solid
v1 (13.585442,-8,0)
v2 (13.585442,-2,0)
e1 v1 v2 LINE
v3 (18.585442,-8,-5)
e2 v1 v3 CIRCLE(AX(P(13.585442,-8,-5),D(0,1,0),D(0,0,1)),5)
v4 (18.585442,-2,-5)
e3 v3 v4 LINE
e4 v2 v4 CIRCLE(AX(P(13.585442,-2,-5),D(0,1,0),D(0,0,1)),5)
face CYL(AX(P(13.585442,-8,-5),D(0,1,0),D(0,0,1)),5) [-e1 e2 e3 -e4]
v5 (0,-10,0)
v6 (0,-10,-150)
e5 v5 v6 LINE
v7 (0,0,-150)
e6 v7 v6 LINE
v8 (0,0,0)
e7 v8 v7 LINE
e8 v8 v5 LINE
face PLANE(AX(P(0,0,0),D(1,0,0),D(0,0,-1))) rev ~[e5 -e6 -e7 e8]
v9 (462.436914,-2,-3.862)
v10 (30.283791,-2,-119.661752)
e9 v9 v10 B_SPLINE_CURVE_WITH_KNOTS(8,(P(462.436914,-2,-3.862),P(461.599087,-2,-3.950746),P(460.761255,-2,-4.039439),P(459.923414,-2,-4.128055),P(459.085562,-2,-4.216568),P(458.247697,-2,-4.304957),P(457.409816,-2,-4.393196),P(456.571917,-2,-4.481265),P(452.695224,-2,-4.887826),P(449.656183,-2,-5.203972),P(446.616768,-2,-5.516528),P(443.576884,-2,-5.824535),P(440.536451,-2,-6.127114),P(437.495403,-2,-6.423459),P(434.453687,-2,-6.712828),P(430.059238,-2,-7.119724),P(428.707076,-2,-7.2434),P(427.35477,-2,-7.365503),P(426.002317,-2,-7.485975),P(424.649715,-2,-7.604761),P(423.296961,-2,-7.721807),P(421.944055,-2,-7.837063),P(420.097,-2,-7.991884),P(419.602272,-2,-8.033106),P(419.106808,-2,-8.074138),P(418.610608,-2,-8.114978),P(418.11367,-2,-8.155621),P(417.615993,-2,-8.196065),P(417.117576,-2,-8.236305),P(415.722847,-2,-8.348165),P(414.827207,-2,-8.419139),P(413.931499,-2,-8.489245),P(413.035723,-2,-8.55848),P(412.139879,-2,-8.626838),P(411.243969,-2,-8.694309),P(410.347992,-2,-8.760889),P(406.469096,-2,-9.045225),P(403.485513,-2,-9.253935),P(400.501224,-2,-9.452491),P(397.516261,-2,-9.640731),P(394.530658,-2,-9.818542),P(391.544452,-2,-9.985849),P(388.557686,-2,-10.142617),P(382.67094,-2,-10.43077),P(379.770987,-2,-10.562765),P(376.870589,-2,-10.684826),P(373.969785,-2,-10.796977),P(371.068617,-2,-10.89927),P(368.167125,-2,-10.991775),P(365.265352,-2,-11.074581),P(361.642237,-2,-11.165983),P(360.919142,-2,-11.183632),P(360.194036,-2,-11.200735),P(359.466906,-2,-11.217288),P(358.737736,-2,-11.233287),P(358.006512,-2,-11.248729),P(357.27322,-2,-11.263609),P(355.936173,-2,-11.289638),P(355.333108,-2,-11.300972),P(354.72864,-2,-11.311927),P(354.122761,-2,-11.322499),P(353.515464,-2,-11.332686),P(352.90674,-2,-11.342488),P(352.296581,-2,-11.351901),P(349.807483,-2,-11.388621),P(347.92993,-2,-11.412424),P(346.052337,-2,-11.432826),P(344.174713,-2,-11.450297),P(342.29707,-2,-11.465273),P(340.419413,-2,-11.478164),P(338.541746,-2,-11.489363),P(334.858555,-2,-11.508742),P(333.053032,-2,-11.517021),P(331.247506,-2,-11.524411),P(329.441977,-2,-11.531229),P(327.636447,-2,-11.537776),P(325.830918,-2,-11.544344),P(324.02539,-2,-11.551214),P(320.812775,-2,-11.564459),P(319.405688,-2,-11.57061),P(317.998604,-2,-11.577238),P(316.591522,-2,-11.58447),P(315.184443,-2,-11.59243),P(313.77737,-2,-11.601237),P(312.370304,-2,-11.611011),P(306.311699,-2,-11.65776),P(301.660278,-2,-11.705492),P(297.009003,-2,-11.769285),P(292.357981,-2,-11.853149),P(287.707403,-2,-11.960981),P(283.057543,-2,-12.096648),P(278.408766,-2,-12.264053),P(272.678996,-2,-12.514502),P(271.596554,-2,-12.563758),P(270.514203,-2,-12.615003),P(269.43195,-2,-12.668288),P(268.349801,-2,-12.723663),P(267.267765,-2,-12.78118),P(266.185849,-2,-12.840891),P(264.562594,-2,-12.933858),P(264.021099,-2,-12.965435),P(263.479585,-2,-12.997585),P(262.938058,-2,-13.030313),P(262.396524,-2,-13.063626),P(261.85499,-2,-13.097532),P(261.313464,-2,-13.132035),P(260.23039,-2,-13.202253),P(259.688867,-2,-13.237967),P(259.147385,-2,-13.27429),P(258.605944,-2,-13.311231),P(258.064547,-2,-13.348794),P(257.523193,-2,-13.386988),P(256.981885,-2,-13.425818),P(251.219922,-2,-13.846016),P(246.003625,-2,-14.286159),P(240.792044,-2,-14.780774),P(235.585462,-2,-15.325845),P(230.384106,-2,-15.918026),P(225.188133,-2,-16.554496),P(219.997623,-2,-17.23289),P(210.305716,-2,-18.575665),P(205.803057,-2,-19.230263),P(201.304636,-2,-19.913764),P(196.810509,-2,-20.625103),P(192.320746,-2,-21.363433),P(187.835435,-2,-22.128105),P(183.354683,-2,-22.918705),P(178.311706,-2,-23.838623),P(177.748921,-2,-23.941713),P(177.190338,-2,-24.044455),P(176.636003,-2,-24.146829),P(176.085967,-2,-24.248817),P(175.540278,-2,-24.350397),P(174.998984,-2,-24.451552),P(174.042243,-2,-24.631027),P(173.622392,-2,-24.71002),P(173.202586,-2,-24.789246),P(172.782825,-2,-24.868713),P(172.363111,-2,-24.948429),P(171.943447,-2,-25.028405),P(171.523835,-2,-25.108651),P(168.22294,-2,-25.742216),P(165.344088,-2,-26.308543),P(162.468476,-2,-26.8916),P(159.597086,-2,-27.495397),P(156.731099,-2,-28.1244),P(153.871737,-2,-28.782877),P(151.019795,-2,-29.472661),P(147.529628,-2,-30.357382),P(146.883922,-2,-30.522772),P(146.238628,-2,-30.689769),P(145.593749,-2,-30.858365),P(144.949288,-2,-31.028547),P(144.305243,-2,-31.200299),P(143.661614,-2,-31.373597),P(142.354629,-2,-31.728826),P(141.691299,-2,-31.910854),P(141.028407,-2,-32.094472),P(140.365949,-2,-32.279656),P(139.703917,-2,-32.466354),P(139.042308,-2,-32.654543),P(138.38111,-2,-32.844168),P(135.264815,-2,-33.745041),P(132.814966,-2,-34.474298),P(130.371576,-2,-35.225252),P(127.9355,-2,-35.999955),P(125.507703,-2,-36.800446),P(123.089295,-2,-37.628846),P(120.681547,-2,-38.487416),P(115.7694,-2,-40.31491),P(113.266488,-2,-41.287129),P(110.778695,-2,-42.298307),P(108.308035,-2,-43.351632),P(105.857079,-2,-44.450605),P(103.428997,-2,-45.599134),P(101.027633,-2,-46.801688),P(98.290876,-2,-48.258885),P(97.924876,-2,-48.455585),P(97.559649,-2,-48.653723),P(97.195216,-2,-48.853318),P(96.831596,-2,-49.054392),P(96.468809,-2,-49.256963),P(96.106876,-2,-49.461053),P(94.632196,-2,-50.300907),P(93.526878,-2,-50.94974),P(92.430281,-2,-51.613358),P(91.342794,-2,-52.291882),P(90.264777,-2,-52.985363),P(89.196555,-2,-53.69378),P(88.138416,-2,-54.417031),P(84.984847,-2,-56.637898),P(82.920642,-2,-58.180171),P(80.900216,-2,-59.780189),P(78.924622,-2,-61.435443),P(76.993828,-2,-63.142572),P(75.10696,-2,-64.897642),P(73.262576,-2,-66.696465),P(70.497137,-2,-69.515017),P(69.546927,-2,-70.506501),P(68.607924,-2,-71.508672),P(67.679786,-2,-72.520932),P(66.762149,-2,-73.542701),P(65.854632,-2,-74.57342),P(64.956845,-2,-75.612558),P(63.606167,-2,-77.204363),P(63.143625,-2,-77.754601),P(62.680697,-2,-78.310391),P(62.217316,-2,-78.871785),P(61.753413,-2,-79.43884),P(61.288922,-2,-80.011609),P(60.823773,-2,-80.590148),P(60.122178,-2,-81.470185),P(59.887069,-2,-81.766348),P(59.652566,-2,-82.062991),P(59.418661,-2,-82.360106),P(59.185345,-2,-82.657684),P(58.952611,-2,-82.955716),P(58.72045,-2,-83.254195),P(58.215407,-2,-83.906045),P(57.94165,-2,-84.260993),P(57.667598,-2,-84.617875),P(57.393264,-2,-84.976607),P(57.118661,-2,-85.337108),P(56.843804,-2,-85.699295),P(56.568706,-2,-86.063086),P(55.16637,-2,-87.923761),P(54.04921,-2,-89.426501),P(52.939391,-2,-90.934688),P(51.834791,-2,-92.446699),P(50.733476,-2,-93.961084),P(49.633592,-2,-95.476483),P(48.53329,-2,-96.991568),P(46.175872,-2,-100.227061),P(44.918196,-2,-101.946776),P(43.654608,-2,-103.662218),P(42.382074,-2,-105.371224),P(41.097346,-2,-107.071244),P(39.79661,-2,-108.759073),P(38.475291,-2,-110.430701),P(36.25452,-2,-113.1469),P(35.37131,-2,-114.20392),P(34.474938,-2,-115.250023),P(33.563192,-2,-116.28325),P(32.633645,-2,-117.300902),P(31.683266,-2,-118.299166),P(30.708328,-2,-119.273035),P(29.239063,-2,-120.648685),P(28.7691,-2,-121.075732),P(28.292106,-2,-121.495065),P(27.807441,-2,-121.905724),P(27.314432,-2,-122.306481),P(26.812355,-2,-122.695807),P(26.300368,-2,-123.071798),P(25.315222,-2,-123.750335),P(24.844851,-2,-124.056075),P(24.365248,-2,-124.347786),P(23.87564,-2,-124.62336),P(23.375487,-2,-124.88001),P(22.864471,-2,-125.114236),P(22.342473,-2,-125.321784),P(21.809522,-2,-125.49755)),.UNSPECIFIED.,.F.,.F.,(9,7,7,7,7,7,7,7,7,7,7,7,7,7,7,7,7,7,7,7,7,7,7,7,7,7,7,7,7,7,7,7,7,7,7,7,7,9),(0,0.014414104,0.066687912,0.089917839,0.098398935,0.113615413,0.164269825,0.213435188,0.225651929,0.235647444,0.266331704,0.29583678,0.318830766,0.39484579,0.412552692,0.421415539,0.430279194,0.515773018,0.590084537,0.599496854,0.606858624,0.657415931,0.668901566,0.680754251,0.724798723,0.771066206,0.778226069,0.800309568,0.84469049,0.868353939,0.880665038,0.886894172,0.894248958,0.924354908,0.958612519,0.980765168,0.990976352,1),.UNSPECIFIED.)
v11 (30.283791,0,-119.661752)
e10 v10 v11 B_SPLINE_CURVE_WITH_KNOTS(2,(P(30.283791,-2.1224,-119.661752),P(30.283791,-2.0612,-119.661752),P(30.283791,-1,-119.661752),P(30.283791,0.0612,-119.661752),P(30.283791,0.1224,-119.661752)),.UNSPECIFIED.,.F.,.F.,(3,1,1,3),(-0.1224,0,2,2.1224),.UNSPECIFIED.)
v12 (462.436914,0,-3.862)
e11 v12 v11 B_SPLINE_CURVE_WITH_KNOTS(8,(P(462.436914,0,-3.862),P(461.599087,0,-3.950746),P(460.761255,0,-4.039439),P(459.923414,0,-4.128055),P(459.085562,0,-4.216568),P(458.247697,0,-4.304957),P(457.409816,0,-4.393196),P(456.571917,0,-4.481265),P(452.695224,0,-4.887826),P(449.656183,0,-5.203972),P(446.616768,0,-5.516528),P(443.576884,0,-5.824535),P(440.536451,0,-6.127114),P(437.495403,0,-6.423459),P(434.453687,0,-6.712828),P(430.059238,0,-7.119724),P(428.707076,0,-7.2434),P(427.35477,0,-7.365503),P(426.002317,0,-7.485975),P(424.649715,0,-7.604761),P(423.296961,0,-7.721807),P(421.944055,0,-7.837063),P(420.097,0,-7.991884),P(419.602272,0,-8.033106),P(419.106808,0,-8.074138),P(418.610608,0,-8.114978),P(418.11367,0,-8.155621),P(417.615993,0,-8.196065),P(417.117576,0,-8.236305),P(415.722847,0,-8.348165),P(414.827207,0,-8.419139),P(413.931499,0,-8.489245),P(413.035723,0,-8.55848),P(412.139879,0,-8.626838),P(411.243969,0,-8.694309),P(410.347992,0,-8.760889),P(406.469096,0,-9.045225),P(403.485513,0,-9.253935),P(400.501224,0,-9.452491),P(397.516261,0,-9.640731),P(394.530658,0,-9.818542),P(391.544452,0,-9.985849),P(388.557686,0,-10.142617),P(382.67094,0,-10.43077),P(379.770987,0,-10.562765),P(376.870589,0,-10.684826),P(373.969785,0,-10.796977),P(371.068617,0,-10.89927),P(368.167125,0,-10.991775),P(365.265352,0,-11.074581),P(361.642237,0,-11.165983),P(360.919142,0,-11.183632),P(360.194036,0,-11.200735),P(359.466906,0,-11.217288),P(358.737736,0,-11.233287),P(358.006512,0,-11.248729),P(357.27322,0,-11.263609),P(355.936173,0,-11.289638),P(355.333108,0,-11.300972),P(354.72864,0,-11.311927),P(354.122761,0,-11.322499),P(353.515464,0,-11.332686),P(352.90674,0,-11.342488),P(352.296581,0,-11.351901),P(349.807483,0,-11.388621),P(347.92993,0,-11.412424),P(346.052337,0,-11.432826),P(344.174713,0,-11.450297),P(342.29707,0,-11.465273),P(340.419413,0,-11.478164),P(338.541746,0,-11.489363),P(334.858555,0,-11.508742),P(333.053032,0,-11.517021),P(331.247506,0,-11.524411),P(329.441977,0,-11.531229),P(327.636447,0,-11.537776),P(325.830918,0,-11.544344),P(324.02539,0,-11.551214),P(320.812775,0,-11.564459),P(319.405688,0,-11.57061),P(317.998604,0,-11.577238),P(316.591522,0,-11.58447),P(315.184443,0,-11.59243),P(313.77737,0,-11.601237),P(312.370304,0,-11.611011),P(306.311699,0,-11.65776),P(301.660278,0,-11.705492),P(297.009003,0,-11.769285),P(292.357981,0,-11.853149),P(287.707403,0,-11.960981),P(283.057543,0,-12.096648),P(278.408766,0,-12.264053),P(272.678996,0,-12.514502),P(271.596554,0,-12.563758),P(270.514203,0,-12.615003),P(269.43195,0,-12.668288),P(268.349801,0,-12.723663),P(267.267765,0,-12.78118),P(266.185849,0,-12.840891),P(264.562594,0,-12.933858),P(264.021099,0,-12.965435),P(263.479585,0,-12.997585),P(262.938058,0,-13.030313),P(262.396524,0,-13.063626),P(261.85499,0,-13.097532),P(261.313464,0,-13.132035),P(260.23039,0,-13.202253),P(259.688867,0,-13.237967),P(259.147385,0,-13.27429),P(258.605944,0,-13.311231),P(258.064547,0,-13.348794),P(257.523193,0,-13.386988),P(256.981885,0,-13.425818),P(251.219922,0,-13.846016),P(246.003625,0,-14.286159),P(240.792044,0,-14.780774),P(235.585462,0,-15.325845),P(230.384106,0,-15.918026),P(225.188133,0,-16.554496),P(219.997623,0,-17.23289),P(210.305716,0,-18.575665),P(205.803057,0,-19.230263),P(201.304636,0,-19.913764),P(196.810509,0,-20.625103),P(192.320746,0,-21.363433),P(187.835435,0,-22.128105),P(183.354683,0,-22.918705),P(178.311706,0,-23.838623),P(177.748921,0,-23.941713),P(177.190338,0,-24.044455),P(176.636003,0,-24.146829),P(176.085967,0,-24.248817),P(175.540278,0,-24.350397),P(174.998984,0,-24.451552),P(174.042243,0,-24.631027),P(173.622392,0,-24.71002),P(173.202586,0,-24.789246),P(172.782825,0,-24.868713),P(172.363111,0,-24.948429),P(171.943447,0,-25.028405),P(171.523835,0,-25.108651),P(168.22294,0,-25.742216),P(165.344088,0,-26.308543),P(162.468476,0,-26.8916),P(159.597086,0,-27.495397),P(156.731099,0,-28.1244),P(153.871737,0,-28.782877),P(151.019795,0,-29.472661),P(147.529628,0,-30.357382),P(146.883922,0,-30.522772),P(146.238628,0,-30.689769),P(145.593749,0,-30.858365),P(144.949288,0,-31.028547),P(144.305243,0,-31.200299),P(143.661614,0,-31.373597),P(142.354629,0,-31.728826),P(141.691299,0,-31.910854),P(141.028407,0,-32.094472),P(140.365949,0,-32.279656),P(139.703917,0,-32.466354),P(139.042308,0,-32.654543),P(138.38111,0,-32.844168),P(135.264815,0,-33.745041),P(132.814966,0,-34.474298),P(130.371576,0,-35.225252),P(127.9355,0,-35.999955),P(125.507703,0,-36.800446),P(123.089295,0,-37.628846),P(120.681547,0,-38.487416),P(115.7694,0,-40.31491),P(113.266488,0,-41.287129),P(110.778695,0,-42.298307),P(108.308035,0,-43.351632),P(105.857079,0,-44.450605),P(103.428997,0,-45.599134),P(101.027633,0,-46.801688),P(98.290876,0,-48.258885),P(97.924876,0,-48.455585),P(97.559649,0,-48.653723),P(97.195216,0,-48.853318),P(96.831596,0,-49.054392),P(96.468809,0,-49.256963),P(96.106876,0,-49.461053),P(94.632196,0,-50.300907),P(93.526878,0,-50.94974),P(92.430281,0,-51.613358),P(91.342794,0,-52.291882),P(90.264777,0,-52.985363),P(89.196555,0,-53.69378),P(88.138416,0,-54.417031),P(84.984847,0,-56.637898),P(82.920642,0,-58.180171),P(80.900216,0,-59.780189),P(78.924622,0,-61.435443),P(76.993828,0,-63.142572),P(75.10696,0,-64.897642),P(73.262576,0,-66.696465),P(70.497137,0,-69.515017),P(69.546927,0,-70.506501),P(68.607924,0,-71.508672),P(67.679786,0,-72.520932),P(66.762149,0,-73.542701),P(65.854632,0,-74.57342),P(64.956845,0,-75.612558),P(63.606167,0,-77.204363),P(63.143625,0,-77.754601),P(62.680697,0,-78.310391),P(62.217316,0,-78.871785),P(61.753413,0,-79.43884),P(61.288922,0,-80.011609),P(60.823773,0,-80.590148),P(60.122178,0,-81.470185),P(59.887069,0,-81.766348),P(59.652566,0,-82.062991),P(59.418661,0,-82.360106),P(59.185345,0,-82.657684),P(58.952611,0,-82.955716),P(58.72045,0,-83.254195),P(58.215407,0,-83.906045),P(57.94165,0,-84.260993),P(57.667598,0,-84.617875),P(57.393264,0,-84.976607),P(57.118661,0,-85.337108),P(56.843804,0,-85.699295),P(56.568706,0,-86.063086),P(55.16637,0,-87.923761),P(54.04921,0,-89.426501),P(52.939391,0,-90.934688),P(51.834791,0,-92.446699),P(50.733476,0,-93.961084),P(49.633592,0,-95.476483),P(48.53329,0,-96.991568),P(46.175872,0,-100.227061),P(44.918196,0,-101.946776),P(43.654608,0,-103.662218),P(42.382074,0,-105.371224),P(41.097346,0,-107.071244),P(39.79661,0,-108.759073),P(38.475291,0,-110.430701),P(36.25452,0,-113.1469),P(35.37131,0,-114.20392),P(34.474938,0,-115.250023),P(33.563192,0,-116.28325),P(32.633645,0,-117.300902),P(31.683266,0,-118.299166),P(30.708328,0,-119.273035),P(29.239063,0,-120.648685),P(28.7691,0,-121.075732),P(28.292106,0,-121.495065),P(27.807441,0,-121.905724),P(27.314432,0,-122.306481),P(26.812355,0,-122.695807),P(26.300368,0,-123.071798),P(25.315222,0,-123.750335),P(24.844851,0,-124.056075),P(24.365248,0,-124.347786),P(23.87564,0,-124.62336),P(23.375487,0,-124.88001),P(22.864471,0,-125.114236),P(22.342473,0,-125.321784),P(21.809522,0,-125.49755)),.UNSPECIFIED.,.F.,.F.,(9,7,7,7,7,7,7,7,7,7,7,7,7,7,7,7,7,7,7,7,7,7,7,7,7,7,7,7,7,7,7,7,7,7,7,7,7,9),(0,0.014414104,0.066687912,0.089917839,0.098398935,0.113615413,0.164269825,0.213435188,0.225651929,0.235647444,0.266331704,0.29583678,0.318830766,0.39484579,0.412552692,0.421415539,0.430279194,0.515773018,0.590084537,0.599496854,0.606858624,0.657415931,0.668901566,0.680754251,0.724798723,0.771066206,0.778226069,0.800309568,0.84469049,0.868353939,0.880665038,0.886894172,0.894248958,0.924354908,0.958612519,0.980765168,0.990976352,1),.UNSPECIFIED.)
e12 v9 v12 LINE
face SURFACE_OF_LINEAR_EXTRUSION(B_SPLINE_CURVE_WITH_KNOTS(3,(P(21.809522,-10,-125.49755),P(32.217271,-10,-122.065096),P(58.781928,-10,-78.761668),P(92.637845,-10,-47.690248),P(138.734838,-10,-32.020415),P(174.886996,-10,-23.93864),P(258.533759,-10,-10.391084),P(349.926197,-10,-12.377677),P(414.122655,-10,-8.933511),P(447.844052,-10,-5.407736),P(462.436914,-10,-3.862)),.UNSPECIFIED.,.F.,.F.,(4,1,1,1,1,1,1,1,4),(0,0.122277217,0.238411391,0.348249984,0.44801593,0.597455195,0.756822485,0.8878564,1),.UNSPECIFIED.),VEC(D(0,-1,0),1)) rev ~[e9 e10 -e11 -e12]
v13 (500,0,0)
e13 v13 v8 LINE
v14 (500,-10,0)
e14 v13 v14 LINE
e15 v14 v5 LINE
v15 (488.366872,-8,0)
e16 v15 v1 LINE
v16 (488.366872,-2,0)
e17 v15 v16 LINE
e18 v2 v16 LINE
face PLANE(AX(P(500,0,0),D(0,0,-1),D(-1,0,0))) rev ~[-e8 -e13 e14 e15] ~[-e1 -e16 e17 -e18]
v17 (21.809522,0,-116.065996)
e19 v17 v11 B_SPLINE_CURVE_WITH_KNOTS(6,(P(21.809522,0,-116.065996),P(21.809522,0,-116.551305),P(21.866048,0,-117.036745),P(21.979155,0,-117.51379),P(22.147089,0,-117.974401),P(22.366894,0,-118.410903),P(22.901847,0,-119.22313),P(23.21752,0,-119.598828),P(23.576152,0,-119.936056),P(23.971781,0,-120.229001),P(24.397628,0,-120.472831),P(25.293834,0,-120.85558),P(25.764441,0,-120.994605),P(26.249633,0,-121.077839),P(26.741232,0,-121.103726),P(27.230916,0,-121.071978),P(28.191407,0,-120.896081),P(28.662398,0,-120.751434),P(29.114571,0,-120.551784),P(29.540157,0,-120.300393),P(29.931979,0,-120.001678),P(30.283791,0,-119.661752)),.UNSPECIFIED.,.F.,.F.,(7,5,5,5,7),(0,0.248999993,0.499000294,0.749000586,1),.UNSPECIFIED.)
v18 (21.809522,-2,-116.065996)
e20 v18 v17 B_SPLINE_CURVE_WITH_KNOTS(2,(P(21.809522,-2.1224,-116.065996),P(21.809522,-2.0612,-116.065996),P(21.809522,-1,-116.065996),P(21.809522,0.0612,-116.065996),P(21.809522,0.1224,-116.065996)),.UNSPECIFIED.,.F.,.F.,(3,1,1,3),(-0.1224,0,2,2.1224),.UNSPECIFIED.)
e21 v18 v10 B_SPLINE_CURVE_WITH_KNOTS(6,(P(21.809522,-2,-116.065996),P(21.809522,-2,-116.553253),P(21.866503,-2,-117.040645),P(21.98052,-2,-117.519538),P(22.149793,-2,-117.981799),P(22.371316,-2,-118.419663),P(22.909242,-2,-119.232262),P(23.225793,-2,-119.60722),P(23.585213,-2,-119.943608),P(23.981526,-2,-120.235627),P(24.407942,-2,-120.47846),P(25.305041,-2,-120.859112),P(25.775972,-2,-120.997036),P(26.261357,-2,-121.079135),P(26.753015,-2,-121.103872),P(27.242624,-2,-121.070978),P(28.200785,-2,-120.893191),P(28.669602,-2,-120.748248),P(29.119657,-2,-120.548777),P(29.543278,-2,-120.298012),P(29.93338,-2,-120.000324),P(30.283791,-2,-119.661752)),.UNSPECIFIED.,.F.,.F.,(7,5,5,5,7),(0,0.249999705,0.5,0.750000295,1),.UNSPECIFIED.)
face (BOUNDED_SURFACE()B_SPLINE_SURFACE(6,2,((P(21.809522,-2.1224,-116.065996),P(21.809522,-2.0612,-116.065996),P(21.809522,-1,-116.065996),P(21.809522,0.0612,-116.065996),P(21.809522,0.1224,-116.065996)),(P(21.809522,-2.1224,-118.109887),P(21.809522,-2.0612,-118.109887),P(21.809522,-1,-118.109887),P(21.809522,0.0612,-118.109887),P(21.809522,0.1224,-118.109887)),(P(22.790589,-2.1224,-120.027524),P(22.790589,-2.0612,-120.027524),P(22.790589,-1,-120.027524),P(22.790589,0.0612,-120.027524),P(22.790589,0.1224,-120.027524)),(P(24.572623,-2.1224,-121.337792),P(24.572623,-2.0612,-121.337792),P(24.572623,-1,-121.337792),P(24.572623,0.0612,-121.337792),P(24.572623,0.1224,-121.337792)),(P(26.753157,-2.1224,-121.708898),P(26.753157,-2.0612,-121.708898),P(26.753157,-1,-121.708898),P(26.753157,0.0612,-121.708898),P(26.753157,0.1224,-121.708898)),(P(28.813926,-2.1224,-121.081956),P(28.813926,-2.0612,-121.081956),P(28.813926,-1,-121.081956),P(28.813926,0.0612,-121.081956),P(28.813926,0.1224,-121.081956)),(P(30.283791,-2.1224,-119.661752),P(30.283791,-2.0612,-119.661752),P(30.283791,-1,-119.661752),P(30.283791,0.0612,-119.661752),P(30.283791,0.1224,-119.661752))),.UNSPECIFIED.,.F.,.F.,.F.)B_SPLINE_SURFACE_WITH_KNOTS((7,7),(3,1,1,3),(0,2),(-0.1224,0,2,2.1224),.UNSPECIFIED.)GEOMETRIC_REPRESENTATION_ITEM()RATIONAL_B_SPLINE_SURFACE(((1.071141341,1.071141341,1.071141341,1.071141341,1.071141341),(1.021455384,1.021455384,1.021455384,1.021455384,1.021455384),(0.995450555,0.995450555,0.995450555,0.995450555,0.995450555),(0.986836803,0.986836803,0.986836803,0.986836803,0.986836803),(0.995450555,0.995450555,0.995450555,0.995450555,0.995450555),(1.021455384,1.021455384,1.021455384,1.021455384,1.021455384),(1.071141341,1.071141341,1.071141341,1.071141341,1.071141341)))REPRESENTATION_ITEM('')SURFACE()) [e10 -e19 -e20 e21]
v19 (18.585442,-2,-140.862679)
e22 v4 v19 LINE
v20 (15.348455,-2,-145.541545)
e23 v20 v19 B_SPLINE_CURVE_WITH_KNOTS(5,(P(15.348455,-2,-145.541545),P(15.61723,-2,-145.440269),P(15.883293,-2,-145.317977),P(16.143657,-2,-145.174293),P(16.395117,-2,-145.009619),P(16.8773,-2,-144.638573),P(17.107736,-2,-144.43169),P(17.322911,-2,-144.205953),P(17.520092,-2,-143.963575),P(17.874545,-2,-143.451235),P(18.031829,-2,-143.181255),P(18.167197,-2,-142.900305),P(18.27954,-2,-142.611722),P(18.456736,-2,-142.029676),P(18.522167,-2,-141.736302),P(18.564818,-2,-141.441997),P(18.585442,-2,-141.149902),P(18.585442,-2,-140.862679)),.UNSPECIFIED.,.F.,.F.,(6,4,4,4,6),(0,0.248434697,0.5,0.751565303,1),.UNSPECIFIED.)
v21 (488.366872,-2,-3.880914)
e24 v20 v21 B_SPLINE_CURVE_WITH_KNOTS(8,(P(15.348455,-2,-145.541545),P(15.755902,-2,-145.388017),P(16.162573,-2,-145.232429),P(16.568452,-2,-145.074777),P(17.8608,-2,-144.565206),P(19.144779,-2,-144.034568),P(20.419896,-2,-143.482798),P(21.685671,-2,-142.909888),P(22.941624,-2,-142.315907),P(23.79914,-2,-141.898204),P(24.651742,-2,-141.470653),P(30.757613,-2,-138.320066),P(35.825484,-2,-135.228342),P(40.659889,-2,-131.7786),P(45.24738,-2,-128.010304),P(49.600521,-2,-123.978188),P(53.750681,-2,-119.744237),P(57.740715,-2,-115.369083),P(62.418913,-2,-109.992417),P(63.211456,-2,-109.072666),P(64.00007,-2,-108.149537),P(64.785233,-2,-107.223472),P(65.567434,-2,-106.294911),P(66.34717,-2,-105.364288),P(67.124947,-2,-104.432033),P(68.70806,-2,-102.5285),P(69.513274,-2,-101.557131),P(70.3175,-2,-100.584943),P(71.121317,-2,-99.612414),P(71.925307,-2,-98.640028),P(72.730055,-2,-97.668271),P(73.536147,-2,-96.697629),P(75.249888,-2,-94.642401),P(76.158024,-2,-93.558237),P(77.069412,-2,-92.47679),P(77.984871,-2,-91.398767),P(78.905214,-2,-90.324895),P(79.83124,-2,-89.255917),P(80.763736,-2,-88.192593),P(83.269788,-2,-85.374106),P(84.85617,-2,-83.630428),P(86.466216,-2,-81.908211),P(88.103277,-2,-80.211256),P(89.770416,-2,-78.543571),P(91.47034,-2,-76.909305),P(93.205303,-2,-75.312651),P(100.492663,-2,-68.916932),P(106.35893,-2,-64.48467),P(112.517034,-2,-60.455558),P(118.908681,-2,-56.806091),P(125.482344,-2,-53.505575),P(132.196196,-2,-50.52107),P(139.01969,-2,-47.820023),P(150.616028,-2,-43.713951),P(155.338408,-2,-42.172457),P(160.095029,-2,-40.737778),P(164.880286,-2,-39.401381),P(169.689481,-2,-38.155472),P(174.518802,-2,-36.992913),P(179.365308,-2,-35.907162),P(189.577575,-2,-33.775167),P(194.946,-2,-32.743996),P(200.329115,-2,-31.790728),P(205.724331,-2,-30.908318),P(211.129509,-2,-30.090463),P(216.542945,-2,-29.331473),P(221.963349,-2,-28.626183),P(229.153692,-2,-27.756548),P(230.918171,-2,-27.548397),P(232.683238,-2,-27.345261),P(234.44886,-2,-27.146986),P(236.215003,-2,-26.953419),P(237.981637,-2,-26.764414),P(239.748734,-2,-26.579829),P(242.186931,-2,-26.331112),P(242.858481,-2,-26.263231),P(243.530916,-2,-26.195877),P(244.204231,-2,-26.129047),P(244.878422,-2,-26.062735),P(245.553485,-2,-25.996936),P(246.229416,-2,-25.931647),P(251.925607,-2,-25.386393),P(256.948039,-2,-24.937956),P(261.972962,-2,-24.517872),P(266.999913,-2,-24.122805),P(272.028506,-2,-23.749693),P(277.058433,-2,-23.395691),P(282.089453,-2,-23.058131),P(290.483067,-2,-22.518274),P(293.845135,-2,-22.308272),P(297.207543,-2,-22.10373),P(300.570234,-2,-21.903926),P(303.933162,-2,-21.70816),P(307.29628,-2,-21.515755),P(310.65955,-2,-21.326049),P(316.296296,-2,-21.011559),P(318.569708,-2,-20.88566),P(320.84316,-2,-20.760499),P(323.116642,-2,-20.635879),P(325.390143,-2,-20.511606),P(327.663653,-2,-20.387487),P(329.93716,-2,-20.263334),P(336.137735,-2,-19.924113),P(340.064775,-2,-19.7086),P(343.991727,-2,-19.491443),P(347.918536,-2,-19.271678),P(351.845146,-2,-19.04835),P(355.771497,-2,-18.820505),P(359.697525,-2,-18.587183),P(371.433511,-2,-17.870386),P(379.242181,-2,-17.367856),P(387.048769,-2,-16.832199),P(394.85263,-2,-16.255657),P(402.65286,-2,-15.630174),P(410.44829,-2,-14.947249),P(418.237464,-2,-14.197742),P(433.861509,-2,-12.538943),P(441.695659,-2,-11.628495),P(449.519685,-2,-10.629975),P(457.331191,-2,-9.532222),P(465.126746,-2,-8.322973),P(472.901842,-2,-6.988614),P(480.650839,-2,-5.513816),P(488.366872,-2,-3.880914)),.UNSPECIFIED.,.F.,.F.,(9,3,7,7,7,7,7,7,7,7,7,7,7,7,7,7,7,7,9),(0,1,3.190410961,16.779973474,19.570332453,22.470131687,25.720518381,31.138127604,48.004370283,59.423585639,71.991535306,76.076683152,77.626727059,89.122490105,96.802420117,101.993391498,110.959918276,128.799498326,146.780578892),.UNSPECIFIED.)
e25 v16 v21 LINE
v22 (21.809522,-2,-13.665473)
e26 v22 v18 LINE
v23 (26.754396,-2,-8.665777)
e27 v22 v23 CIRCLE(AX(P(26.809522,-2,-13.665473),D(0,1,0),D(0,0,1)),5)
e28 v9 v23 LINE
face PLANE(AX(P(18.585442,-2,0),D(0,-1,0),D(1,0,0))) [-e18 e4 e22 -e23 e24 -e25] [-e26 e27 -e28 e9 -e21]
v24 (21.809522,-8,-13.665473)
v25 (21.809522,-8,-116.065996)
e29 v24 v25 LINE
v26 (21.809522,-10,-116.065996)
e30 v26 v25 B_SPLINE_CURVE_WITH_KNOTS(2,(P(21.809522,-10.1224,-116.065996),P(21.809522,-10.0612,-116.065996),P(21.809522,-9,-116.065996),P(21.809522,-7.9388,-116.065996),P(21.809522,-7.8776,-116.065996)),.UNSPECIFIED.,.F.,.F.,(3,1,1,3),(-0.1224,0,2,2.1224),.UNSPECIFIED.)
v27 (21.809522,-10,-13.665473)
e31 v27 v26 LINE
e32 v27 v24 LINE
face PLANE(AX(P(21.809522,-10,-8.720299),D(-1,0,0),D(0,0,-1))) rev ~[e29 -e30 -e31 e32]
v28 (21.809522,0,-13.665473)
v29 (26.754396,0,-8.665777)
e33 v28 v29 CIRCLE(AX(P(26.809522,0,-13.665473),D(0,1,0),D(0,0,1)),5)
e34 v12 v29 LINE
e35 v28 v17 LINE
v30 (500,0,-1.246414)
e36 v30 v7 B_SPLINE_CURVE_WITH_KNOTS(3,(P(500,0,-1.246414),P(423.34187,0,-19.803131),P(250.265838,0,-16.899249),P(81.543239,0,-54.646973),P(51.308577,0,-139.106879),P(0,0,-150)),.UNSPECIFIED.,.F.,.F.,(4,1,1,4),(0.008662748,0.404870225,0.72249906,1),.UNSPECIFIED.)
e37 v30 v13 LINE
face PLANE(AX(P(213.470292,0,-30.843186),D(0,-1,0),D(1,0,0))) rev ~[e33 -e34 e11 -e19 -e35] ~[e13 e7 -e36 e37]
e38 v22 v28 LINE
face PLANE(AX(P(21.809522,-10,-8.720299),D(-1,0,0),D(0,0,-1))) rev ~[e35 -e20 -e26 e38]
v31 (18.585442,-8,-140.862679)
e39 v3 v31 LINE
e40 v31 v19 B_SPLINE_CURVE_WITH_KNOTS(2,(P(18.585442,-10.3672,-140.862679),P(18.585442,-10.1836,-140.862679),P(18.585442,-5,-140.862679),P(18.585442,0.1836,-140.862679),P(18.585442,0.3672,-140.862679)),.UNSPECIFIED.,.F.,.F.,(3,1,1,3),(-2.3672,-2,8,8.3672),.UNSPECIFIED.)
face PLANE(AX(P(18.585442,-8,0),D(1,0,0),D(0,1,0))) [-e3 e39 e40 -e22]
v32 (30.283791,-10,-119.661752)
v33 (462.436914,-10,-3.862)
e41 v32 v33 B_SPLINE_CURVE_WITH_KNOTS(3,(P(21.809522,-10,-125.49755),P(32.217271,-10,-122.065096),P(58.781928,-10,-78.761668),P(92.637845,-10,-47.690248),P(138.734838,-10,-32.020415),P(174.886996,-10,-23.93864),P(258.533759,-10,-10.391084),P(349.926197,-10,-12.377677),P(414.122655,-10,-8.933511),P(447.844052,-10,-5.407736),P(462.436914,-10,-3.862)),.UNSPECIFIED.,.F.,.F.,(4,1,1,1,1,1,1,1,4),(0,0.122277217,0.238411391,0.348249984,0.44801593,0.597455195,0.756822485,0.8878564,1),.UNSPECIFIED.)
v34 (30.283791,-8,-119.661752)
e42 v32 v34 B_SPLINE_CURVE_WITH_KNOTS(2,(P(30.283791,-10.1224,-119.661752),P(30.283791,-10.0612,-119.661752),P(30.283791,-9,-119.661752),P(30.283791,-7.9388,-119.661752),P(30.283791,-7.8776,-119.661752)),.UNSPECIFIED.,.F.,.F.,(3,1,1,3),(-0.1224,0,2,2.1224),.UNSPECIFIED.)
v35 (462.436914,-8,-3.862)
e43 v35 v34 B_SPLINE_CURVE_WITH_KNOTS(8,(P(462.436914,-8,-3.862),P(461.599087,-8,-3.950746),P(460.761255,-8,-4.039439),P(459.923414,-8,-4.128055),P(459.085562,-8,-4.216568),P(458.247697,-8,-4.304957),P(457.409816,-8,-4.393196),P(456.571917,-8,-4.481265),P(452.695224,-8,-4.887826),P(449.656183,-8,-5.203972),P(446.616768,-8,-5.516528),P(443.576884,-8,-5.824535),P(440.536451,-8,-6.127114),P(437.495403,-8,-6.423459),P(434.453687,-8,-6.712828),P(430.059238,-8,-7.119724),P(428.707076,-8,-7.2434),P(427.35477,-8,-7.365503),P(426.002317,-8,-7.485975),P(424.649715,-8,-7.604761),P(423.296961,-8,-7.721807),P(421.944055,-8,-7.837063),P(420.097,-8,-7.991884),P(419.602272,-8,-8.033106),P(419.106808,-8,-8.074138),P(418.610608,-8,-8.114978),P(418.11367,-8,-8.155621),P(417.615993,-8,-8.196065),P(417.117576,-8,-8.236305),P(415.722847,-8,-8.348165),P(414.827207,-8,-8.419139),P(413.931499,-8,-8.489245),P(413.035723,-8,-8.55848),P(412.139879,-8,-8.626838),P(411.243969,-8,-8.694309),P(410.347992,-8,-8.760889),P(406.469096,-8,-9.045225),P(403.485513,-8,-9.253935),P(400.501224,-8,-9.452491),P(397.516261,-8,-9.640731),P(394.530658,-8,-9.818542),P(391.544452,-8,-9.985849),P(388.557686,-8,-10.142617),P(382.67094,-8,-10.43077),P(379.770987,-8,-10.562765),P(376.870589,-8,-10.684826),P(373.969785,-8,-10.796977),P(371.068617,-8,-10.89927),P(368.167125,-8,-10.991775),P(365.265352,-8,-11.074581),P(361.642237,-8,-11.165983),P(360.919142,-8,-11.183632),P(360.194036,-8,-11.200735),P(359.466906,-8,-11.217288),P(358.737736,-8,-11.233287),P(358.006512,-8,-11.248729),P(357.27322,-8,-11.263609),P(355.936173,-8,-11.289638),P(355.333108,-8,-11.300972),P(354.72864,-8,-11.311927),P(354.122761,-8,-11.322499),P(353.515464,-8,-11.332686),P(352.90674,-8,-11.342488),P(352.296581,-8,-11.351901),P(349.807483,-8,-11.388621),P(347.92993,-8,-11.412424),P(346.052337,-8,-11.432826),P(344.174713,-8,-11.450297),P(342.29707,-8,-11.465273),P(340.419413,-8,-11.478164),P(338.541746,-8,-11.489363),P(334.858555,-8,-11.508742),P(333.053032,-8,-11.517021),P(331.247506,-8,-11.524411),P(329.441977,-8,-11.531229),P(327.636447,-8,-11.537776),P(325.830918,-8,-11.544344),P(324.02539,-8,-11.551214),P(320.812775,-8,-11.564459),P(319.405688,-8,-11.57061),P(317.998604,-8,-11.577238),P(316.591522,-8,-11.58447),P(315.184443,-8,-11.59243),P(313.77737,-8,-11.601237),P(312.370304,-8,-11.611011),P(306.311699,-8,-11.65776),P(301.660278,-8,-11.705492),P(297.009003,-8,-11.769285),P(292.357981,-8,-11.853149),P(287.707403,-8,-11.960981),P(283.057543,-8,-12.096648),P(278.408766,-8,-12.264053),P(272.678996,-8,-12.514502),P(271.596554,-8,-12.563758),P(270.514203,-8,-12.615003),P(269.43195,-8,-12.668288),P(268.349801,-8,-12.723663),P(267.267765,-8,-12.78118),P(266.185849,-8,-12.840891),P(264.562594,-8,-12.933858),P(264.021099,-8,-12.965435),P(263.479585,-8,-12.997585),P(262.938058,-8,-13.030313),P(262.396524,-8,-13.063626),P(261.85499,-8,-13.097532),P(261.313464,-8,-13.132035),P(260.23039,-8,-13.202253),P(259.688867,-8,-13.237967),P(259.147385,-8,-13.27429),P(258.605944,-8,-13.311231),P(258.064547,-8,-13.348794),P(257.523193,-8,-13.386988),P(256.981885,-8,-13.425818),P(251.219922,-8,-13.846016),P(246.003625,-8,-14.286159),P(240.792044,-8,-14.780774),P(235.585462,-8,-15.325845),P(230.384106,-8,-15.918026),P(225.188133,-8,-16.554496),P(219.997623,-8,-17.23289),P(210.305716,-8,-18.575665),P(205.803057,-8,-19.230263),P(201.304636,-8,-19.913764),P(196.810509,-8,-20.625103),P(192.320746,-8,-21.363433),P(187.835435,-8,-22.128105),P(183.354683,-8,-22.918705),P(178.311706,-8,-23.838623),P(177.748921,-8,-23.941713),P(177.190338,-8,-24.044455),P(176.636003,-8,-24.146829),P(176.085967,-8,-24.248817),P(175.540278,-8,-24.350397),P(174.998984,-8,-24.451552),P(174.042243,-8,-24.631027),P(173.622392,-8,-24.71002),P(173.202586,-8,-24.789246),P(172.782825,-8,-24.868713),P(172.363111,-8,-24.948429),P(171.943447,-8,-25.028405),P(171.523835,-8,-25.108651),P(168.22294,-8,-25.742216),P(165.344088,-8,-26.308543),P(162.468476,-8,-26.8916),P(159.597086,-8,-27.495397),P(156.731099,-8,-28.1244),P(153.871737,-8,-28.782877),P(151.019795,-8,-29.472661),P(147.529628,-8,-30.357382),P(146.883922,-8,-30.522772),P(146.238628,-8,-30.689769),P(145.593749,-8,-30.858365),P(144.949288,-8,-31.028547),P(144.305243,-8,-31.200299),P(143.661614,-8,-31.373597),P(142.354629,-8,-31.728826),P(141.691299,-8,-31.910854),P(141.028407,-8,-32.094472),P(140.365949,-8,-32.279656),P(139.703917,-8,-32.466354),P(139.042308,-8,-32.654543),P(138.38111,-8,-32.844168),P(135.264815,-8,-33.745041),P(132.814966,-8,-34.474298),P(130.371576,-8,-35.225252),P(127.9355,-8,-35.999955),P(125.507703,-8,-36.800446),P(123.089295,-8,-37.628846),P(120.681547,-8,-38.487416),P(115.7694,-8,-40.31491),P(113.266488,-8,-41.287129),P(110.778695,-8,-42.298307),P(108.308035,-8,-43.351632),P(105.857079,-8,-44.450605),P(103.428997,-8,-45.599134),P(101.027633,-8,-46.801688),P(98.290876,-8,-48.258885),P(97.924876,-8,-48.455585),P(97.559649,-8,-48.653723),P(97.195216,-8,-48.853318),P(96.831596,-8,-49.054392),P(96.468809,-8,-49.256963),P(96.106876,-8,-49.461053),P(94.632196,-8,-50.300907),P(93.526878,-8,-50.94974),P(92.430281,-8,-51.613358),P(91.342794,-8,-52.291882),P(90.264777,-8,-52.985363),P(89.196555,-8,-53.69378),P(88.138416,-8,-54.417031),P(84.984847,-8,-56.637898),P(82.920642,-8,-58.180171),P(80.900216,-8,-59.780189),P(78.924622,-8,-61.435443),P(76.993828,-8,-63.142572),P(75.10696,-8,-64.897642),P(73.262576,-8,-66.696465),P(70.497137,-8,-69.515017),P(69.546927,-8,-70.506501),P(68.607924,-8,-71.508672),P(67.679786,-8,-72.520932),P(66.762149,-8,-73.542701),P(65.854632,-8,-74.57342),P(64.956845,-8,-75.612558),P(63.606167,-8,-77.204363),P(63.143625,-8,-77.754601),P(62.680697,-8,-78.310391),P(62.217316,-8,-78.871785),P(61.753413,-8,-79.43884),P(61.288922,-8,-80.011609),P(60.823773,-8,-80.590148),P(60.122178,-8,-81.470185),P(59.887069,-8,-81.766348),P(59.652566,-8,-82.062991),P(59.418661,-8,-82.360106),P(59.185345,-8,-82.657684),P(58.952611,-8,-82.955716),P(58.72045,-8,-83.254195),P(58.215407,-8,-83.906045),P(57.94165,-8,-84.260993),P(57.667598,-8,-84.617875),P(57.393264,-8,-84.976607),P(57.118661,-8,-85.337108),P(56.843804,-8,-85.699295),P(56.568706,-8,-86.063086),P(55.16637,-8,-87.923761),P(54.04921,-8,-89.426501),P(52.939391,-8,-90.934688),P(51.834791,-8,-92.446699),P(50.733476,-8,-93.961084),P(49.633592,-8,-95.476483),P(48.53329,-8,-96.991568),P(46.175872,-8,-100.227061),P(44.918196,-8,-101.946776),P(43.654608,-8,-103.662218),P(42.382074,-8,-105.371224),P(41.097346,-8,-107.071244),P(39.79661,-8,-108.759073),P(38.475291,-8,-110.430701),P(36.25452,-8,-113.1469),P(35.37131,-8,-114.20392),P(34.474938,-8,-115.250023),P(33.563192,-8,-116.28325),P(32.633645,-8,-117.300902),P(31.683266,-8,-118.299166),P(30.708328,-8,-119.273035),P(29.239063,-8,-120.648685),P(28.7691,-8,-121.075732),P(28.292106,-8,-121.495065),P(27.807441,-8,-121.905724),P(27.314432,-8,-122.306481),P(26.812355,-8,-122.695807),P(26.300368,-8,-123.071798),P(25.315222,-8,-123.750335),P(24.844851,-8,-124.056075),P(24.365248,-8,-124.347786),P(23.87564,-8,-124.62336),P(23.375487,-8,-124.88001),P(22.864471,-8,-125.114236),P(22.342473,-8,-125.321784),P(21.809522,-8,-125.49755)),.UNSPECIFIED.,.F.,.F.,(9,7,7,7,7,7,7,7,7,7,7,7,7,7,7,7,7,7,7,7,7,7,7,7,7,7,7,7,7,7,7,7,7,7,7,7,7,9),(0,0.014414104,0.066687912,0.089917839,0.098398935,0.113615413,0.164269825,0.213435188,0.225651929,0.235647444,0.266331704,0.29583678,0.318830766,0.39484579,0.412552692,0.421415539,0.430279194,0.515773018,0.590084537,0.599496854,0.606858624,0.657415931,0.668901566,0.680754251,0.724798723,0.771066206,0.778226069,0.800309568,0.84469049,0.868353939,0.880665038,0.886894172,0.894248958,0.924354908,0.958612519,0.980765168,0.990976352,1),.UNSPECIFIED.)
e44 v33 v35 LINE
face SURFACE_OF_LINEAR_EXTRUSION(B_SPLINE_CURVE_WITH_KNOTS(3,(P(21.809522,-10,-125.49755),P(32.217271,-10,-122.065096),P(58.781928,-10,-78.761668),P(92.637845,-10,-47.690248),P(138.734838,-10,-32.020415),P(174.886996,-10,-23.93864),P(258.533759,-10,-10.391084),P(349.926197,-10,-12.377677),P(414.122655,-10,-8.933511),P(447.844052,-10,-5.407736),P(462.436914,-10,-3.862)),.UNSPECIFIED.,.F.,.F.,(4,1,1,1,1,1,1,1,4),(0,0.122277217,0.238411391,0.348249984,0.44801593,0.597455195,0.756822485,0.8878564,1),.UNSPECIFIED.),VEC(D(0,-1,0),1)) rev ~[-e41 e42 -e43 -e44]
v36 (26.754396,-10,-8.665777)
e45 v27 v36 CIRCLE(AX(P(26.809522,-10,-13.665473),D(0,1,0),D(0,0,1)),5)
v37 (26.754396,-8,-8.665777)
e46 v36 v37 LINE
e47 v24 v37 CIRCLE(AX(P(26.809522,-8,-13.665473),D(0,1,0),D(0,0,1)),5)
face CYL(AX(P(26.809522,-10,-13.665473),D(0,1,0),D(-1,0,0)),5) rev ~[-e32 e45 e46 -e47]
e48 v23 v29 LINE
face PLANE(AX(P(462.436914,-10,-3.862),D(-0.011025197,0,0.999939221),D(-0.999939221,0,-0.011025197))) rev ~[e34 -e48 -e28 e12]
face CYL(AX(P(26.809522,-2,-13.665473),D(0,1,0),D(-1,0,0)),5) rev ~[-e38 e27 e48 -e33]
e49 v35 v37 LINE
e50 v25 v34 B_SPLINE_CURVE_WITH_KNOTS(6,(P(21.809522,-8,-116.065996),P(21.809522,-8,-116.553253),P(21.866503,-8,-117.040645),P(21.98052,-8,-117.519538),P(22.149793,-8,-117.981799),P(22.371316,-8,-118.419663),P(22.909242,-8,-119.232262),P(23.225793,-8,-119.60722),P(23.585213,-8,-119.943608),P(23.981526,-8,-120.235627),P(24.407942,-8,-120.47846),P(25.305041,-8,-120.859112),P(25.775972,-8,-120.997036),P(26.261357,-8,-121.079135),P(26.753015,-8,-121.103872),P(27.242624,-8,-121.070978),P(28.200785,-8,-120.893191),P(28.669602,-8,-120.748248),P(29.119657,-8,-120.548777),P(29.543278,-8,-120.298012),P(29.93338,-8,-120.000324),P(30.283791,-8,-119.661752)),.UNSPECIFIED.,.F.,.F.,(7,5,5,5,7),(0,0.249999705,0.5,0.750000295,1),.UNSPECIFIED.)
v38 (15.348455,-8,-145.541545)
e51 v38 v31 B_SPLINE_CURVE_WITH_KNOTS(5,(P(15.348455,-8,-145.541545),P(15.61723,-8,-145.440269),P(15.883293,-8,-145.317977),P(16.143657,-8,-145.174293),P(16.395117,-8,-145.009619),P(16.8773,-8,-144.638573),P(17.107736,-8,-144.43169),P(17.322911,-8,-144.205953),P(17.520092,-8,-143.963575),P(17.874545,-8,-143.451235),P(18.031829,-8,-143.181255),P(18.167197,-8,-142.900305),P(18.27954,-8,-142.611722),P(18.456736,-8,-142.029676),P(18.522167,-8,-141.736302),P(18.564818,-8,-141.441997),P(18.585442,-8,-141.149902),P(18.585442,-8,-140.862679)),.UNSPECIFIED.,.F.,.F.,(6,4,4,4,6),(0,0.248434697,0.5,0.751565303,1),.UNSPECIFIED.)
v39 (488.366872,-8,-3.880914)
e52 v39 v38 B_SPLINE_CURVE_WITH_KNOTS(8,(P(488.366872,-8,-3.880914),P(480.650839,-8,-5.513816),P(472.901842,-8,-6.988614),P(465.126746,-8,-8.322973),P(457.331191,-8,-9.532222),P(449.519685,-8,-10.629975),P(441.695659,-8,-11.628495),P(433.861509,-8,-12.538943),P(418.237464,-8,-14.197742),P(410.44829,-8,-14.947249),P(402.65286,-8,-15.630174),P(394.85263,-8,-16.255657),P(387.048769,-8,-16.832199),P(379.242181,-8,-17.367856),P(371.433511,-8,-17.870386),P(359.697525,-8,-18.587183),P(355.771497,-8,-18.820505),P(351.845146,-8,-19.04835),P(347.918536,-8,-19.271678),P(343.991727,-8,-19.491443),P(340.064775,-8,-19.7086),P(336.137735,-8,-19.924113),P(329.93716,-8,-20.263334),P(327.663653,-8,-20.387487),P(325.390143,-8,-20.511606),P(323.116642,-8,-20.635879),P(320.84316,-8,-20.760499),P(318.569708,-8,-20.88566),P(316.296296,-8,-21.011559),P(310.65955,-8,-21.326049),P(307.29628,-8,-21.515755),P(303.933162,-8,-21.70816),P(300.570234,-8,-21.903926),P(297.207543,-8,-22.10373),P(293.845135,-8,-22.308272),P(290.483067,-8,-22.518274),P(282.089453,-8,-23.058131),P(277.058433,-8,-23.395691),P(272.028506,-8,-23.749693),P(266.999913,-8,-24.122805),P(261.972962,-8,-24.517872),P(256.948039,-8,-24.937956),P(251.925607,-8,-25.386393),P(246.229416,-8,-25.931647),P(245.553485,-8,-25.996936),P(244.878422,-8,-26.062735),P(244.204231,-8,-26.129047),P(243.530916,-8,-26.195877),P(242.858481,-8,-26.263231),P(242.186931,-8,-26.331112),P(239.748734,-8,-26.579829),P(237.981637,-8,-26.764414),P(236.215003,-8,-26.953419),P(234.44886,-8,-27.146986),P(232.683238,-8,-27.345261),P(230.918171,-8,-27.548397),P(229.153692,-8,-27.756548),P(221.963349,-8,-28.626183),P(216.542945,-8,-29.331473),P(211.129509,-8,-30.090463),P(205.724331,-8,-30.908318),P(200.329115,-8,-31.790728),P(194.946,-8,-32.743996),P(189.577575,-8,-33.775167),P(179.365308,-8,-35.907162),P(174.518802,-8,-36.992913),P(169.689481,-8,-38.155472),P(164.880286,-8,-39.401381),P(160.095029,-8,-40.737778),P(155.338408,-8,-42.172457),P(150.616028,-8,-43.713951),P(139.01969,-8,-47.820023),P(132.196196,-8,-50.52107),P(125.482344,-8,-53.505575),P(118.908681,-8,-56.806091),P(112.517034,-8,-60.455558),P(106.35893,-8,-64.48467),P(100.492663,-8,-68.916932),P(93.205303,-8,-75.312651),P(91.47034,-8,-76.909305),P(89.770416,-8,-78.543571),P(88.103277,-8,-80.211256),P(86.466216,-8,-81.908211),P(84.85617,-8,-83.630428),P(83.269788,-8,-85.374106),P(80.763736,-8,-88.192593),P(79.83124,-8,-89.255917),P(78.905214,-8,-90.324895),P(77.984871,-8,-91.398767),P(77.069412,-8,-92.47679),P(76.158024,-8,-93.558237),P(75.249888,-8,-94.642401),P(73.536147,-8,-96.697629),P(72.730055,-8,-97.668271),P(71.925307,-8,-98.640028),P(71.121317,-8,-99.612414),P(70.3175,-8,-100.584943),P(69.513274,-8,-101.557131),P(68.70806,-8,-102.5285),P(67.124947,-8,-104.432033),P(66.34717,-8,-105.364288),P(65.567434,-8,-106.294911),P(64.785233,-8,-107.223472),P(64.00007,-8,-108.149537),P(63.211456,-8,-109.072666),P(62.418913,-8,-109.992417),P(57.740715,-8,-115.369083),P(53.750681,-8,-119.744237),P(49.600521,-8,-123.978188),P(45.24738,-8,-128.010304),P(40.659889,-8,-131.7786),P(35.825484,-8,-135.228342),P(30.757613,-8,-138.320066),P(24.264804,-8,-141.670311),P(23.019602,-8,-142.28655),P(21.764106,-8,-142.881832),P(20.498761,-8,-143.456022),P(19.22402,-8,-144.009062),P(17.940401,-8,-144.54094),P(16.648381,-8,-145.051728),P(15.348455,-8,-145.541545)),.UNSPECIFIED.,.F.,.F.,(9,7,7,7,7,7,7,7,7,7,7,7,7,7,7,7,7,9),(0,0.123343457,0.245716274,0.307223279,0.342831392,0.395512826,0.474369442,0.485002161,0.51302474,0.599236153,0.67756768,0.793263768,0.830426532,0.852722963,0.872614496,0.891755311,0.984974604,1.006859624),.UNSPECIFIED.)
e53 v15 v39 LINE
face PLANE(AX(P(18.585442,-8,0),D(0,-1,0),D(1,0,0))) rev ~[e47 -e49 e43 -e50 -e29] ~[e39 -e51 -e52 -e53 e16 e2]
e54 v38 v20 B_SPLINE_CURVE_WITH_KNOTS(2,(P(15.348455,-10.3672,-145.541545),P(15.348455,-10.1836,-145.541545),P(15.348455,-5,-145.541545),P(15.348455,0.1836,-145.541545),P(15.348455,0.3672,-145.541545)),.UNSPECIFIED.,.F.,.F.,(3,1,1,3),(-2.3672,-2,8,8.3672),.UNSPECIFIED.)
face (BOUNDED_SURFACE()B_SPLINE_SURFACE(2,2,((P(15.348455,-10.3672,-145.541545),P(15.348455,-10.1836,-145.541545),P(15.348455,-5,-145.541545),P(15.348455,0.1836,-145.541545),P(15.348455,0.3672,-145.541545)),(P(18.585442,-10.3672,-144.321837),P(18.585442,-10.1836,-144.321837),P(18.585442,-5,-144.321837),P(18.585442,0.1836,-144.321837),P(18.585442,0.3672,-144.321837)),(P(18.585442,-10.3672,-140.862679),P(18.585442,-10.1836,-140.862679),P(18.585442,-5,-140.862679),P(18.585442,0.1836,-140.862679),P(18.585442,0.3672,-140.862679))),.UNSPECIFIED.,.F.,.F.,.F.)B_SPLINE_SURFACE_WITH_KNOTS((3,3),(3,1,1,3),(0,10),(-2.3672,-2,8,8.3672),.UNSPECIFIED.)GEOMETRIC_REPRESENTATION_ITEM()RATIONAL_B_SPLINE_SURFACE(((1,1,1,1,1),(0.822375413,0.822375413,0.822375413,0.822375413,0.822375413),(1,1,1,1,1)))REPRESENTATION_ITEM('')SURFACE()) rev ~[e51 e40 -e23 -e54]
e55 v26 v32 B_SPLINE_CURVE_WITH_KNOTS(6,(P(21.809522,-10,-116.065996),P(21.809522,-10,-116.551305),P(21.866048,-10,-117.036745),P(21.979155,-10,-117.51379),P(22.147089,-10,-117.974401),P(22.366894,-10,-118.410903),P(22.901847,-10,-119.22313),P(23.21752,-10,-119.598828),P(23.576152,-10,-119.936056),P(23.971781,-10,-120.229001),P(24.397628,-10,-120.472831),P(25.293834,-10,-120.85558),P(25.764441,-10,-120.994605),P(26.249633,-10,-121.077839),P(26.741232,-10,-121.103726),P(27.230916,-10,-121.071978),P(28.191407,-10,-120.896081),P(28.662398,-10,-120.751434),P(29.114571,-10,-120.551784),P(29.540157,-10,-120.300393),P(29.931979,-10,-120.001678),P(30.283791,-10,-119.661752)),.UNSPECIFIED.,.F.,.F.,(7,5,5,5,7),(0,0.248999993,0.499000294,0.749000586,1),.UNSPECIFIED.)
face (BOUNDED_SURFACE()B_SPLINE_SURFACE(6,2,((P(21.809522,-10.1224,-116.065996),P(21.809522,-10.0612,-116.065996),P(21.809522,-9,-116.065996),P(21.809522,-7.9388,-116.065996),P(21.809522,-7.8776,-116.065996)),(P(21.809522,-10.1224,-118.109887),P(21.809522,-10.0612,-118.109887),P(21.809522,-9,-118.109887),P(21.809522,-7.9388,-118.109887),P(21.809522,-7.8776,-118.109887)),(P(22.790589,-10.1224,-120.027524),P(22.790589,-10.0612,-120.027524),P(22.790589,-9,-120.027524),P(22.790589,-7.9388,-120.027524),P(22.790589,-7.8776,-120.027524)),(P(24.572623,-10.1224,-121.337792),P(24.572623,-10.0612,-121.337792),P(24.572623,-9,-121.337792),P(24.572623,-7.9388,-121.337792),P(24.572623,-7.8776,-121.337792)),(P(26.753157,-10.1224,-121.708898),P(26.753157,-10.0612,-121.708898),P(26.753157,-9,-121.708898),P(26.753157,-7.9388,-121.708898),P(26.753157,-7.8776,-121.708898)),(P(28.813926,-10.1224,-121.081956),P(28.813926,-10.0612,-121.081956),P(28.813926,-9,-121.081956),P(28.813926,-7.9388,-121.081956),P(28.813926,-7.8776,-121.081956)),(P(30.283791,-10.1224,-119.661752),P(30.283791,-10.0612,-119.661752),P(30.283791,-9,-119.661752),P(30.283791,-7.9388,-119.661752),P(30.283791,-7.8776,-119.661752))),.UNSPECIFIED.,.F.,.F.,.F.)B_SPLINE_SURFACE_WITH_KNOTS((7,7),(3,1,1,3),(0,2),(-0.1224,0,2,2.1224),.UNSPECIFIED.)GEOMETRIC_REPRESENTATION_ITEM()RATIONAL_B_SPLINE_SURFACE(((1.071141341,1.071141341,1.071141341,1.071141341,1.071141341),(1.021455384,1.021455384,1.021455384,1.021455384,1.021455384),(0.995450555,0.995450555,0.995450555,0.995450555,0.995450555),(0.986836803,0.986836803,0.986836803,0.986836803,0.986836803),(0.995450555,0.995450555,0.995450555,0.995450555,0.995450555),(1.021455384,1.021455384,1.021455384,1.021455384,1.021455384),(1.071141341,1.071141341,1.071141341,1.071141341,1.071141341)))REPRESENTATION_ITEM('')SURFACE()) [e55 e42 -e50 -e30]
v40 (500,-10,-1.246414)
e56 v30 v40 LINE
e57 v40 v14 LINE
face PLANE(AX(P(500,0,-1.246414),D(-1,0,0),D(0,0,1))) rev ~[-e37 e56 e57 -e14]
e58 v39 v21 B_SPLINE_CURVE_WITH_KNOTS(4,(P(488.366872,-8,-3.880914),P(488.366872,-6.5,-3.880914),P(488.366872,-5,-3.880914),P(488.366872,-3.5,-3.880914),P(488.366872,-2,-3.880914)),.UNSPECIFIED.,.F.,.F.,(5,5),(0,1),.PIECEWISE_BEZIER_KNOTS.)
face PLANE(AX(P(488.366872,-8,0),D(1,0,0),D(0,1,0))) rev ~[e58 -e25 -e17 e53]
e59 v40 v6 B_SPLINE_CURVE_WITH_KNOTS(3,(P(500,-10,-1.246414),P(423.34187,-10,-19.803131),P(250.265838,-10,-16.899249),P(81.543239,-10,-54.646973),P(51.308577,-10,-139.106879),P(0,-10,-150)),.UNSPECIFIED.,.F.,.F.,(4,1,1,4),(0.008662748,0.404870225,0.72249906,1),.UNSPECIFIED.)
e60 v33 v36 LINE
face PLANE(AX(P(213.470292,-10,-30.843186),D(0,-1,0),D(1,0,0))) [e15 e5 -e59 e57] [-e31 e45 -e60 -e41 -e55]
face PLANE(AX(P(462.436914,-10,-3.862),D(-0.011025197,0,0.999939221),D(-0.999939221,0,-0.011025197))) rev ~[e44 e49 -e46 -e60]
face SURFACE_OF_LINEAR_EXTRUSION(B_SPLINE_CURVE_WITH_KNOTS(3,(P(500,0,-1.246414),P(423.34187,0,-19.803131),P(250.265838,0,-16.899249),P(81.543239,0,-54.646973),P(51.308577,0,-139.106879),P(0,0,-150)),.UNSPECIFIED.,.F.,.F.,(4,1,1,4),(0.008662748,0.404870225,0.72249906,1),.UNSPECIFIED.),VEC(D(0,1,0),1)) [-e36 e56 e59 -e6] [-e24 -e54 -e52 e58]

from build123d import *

# Parameters (mm, degrees)
F1_DEPTH = 10
F2_W     = 469.7814304382
F2_H     = 6
F3_DEPTH = 150.0010001
F5_DEPTH = 10.0010001
F6_R     = 5
F7_R     = 5
F8_R     = 5


with BuildPart() as f1:
    # F0 (on Front) → F1 (new body)
    with BuildSketch(Plane.XZ):
        with BuildLine():
            Line((490, 0), (0, 0))
            Line((0, 0), (0, -150))
            add(Edge.make_bspline(
                [(500, -1.2464135636), (423.341869886, -19.8031308411), (250.2658375262, -16.8992488433), (81.5432391027, -54.6469734319), (51.3085768442, -139.1068788057), (0, -150)],
                knots=[0.0086627482, 0.0086627482, 0.0086627482, 0.0086627482, 0.4048702251, 0.7224990596, 1, 1, 1, 1], degree=3))
            Line((500, -1.2464135636), (500, 0))
            Line((500, 0), (490, 0))
        make_face()
    extrude(amount=F1_DEPTH)

    # F2 (on face) → F3 (cut, through all)
    with BuildSketch(Plane.XY):
        with Locations((253.4761568531, -5)):
            Rectangle(F2_W, F2_H)
    extrude(amount=-F3_DEPTH, mode=Mode.SUBTRACT)

    # F4 (on face) → F5 (cut, through all)
    with BuildSketch(Plane.XZ.offset(10)):
        with BuildLine():
            Line((462.436914444, -3.8619996049), (21.8095220625, -8.7202985799))
            Line((21.8095220625, -8.7202985799), (21.8095220625, -125.4975497723))
            add(Edge.make_bspline(
                [(21.8095220625, -125.4975497723), (32.2172713088, -122.0650961288), (58.781928291, -78.761668078), (92.6378446485, -47.690248313), (138.7348383302, -32.0204151339), (174.8869961471, -23.9386402043), (258.5337585047, -10.39108363), (349.9261967141, -12.3776767113), (414.1226552212, -8.9335112217), (447.8440516291, -5.407736286), (462.436914444, -3.8619996049)],
                knots=[0, 0, 0, 0, 0.1222772174, 0.2384113906, 0.3482499842, 0.44801593, 0.5974551949, 0.7568224846, 0.8878563996, 1, 1, 1, 1], degree=3))
        make_face()
    extrude(amount=-F5_DEPTH, mode=Mode.SUBTRACT)

    # F6
    f6_edges = [f1.edges().sort_by_distance(p)[0] for p in [
        (21.809522, -9, -125.49755),
        (21.809522, -1, -125.49755),
    ]]
    fillet(f6_edges, radius=F6_R)

    # F7
    f7_edges = [f1.edges().sort_by_distance(p)[0] for p in [
        (21.809522, -9, -8.720299),
        (21.809522, -1, -8.720299),
    ]]
    fillet(f7_edges, radius=F7_R)

    # F8
    f8_edges = [f1.edges().sort_by_distance(p)[0] for p in [
        (18.585442, -5, -144.255465),
        (18.585442, -5, 0),
    ]]
    fillet(f8_edges, radius=F8_R)


solid = f1.part
